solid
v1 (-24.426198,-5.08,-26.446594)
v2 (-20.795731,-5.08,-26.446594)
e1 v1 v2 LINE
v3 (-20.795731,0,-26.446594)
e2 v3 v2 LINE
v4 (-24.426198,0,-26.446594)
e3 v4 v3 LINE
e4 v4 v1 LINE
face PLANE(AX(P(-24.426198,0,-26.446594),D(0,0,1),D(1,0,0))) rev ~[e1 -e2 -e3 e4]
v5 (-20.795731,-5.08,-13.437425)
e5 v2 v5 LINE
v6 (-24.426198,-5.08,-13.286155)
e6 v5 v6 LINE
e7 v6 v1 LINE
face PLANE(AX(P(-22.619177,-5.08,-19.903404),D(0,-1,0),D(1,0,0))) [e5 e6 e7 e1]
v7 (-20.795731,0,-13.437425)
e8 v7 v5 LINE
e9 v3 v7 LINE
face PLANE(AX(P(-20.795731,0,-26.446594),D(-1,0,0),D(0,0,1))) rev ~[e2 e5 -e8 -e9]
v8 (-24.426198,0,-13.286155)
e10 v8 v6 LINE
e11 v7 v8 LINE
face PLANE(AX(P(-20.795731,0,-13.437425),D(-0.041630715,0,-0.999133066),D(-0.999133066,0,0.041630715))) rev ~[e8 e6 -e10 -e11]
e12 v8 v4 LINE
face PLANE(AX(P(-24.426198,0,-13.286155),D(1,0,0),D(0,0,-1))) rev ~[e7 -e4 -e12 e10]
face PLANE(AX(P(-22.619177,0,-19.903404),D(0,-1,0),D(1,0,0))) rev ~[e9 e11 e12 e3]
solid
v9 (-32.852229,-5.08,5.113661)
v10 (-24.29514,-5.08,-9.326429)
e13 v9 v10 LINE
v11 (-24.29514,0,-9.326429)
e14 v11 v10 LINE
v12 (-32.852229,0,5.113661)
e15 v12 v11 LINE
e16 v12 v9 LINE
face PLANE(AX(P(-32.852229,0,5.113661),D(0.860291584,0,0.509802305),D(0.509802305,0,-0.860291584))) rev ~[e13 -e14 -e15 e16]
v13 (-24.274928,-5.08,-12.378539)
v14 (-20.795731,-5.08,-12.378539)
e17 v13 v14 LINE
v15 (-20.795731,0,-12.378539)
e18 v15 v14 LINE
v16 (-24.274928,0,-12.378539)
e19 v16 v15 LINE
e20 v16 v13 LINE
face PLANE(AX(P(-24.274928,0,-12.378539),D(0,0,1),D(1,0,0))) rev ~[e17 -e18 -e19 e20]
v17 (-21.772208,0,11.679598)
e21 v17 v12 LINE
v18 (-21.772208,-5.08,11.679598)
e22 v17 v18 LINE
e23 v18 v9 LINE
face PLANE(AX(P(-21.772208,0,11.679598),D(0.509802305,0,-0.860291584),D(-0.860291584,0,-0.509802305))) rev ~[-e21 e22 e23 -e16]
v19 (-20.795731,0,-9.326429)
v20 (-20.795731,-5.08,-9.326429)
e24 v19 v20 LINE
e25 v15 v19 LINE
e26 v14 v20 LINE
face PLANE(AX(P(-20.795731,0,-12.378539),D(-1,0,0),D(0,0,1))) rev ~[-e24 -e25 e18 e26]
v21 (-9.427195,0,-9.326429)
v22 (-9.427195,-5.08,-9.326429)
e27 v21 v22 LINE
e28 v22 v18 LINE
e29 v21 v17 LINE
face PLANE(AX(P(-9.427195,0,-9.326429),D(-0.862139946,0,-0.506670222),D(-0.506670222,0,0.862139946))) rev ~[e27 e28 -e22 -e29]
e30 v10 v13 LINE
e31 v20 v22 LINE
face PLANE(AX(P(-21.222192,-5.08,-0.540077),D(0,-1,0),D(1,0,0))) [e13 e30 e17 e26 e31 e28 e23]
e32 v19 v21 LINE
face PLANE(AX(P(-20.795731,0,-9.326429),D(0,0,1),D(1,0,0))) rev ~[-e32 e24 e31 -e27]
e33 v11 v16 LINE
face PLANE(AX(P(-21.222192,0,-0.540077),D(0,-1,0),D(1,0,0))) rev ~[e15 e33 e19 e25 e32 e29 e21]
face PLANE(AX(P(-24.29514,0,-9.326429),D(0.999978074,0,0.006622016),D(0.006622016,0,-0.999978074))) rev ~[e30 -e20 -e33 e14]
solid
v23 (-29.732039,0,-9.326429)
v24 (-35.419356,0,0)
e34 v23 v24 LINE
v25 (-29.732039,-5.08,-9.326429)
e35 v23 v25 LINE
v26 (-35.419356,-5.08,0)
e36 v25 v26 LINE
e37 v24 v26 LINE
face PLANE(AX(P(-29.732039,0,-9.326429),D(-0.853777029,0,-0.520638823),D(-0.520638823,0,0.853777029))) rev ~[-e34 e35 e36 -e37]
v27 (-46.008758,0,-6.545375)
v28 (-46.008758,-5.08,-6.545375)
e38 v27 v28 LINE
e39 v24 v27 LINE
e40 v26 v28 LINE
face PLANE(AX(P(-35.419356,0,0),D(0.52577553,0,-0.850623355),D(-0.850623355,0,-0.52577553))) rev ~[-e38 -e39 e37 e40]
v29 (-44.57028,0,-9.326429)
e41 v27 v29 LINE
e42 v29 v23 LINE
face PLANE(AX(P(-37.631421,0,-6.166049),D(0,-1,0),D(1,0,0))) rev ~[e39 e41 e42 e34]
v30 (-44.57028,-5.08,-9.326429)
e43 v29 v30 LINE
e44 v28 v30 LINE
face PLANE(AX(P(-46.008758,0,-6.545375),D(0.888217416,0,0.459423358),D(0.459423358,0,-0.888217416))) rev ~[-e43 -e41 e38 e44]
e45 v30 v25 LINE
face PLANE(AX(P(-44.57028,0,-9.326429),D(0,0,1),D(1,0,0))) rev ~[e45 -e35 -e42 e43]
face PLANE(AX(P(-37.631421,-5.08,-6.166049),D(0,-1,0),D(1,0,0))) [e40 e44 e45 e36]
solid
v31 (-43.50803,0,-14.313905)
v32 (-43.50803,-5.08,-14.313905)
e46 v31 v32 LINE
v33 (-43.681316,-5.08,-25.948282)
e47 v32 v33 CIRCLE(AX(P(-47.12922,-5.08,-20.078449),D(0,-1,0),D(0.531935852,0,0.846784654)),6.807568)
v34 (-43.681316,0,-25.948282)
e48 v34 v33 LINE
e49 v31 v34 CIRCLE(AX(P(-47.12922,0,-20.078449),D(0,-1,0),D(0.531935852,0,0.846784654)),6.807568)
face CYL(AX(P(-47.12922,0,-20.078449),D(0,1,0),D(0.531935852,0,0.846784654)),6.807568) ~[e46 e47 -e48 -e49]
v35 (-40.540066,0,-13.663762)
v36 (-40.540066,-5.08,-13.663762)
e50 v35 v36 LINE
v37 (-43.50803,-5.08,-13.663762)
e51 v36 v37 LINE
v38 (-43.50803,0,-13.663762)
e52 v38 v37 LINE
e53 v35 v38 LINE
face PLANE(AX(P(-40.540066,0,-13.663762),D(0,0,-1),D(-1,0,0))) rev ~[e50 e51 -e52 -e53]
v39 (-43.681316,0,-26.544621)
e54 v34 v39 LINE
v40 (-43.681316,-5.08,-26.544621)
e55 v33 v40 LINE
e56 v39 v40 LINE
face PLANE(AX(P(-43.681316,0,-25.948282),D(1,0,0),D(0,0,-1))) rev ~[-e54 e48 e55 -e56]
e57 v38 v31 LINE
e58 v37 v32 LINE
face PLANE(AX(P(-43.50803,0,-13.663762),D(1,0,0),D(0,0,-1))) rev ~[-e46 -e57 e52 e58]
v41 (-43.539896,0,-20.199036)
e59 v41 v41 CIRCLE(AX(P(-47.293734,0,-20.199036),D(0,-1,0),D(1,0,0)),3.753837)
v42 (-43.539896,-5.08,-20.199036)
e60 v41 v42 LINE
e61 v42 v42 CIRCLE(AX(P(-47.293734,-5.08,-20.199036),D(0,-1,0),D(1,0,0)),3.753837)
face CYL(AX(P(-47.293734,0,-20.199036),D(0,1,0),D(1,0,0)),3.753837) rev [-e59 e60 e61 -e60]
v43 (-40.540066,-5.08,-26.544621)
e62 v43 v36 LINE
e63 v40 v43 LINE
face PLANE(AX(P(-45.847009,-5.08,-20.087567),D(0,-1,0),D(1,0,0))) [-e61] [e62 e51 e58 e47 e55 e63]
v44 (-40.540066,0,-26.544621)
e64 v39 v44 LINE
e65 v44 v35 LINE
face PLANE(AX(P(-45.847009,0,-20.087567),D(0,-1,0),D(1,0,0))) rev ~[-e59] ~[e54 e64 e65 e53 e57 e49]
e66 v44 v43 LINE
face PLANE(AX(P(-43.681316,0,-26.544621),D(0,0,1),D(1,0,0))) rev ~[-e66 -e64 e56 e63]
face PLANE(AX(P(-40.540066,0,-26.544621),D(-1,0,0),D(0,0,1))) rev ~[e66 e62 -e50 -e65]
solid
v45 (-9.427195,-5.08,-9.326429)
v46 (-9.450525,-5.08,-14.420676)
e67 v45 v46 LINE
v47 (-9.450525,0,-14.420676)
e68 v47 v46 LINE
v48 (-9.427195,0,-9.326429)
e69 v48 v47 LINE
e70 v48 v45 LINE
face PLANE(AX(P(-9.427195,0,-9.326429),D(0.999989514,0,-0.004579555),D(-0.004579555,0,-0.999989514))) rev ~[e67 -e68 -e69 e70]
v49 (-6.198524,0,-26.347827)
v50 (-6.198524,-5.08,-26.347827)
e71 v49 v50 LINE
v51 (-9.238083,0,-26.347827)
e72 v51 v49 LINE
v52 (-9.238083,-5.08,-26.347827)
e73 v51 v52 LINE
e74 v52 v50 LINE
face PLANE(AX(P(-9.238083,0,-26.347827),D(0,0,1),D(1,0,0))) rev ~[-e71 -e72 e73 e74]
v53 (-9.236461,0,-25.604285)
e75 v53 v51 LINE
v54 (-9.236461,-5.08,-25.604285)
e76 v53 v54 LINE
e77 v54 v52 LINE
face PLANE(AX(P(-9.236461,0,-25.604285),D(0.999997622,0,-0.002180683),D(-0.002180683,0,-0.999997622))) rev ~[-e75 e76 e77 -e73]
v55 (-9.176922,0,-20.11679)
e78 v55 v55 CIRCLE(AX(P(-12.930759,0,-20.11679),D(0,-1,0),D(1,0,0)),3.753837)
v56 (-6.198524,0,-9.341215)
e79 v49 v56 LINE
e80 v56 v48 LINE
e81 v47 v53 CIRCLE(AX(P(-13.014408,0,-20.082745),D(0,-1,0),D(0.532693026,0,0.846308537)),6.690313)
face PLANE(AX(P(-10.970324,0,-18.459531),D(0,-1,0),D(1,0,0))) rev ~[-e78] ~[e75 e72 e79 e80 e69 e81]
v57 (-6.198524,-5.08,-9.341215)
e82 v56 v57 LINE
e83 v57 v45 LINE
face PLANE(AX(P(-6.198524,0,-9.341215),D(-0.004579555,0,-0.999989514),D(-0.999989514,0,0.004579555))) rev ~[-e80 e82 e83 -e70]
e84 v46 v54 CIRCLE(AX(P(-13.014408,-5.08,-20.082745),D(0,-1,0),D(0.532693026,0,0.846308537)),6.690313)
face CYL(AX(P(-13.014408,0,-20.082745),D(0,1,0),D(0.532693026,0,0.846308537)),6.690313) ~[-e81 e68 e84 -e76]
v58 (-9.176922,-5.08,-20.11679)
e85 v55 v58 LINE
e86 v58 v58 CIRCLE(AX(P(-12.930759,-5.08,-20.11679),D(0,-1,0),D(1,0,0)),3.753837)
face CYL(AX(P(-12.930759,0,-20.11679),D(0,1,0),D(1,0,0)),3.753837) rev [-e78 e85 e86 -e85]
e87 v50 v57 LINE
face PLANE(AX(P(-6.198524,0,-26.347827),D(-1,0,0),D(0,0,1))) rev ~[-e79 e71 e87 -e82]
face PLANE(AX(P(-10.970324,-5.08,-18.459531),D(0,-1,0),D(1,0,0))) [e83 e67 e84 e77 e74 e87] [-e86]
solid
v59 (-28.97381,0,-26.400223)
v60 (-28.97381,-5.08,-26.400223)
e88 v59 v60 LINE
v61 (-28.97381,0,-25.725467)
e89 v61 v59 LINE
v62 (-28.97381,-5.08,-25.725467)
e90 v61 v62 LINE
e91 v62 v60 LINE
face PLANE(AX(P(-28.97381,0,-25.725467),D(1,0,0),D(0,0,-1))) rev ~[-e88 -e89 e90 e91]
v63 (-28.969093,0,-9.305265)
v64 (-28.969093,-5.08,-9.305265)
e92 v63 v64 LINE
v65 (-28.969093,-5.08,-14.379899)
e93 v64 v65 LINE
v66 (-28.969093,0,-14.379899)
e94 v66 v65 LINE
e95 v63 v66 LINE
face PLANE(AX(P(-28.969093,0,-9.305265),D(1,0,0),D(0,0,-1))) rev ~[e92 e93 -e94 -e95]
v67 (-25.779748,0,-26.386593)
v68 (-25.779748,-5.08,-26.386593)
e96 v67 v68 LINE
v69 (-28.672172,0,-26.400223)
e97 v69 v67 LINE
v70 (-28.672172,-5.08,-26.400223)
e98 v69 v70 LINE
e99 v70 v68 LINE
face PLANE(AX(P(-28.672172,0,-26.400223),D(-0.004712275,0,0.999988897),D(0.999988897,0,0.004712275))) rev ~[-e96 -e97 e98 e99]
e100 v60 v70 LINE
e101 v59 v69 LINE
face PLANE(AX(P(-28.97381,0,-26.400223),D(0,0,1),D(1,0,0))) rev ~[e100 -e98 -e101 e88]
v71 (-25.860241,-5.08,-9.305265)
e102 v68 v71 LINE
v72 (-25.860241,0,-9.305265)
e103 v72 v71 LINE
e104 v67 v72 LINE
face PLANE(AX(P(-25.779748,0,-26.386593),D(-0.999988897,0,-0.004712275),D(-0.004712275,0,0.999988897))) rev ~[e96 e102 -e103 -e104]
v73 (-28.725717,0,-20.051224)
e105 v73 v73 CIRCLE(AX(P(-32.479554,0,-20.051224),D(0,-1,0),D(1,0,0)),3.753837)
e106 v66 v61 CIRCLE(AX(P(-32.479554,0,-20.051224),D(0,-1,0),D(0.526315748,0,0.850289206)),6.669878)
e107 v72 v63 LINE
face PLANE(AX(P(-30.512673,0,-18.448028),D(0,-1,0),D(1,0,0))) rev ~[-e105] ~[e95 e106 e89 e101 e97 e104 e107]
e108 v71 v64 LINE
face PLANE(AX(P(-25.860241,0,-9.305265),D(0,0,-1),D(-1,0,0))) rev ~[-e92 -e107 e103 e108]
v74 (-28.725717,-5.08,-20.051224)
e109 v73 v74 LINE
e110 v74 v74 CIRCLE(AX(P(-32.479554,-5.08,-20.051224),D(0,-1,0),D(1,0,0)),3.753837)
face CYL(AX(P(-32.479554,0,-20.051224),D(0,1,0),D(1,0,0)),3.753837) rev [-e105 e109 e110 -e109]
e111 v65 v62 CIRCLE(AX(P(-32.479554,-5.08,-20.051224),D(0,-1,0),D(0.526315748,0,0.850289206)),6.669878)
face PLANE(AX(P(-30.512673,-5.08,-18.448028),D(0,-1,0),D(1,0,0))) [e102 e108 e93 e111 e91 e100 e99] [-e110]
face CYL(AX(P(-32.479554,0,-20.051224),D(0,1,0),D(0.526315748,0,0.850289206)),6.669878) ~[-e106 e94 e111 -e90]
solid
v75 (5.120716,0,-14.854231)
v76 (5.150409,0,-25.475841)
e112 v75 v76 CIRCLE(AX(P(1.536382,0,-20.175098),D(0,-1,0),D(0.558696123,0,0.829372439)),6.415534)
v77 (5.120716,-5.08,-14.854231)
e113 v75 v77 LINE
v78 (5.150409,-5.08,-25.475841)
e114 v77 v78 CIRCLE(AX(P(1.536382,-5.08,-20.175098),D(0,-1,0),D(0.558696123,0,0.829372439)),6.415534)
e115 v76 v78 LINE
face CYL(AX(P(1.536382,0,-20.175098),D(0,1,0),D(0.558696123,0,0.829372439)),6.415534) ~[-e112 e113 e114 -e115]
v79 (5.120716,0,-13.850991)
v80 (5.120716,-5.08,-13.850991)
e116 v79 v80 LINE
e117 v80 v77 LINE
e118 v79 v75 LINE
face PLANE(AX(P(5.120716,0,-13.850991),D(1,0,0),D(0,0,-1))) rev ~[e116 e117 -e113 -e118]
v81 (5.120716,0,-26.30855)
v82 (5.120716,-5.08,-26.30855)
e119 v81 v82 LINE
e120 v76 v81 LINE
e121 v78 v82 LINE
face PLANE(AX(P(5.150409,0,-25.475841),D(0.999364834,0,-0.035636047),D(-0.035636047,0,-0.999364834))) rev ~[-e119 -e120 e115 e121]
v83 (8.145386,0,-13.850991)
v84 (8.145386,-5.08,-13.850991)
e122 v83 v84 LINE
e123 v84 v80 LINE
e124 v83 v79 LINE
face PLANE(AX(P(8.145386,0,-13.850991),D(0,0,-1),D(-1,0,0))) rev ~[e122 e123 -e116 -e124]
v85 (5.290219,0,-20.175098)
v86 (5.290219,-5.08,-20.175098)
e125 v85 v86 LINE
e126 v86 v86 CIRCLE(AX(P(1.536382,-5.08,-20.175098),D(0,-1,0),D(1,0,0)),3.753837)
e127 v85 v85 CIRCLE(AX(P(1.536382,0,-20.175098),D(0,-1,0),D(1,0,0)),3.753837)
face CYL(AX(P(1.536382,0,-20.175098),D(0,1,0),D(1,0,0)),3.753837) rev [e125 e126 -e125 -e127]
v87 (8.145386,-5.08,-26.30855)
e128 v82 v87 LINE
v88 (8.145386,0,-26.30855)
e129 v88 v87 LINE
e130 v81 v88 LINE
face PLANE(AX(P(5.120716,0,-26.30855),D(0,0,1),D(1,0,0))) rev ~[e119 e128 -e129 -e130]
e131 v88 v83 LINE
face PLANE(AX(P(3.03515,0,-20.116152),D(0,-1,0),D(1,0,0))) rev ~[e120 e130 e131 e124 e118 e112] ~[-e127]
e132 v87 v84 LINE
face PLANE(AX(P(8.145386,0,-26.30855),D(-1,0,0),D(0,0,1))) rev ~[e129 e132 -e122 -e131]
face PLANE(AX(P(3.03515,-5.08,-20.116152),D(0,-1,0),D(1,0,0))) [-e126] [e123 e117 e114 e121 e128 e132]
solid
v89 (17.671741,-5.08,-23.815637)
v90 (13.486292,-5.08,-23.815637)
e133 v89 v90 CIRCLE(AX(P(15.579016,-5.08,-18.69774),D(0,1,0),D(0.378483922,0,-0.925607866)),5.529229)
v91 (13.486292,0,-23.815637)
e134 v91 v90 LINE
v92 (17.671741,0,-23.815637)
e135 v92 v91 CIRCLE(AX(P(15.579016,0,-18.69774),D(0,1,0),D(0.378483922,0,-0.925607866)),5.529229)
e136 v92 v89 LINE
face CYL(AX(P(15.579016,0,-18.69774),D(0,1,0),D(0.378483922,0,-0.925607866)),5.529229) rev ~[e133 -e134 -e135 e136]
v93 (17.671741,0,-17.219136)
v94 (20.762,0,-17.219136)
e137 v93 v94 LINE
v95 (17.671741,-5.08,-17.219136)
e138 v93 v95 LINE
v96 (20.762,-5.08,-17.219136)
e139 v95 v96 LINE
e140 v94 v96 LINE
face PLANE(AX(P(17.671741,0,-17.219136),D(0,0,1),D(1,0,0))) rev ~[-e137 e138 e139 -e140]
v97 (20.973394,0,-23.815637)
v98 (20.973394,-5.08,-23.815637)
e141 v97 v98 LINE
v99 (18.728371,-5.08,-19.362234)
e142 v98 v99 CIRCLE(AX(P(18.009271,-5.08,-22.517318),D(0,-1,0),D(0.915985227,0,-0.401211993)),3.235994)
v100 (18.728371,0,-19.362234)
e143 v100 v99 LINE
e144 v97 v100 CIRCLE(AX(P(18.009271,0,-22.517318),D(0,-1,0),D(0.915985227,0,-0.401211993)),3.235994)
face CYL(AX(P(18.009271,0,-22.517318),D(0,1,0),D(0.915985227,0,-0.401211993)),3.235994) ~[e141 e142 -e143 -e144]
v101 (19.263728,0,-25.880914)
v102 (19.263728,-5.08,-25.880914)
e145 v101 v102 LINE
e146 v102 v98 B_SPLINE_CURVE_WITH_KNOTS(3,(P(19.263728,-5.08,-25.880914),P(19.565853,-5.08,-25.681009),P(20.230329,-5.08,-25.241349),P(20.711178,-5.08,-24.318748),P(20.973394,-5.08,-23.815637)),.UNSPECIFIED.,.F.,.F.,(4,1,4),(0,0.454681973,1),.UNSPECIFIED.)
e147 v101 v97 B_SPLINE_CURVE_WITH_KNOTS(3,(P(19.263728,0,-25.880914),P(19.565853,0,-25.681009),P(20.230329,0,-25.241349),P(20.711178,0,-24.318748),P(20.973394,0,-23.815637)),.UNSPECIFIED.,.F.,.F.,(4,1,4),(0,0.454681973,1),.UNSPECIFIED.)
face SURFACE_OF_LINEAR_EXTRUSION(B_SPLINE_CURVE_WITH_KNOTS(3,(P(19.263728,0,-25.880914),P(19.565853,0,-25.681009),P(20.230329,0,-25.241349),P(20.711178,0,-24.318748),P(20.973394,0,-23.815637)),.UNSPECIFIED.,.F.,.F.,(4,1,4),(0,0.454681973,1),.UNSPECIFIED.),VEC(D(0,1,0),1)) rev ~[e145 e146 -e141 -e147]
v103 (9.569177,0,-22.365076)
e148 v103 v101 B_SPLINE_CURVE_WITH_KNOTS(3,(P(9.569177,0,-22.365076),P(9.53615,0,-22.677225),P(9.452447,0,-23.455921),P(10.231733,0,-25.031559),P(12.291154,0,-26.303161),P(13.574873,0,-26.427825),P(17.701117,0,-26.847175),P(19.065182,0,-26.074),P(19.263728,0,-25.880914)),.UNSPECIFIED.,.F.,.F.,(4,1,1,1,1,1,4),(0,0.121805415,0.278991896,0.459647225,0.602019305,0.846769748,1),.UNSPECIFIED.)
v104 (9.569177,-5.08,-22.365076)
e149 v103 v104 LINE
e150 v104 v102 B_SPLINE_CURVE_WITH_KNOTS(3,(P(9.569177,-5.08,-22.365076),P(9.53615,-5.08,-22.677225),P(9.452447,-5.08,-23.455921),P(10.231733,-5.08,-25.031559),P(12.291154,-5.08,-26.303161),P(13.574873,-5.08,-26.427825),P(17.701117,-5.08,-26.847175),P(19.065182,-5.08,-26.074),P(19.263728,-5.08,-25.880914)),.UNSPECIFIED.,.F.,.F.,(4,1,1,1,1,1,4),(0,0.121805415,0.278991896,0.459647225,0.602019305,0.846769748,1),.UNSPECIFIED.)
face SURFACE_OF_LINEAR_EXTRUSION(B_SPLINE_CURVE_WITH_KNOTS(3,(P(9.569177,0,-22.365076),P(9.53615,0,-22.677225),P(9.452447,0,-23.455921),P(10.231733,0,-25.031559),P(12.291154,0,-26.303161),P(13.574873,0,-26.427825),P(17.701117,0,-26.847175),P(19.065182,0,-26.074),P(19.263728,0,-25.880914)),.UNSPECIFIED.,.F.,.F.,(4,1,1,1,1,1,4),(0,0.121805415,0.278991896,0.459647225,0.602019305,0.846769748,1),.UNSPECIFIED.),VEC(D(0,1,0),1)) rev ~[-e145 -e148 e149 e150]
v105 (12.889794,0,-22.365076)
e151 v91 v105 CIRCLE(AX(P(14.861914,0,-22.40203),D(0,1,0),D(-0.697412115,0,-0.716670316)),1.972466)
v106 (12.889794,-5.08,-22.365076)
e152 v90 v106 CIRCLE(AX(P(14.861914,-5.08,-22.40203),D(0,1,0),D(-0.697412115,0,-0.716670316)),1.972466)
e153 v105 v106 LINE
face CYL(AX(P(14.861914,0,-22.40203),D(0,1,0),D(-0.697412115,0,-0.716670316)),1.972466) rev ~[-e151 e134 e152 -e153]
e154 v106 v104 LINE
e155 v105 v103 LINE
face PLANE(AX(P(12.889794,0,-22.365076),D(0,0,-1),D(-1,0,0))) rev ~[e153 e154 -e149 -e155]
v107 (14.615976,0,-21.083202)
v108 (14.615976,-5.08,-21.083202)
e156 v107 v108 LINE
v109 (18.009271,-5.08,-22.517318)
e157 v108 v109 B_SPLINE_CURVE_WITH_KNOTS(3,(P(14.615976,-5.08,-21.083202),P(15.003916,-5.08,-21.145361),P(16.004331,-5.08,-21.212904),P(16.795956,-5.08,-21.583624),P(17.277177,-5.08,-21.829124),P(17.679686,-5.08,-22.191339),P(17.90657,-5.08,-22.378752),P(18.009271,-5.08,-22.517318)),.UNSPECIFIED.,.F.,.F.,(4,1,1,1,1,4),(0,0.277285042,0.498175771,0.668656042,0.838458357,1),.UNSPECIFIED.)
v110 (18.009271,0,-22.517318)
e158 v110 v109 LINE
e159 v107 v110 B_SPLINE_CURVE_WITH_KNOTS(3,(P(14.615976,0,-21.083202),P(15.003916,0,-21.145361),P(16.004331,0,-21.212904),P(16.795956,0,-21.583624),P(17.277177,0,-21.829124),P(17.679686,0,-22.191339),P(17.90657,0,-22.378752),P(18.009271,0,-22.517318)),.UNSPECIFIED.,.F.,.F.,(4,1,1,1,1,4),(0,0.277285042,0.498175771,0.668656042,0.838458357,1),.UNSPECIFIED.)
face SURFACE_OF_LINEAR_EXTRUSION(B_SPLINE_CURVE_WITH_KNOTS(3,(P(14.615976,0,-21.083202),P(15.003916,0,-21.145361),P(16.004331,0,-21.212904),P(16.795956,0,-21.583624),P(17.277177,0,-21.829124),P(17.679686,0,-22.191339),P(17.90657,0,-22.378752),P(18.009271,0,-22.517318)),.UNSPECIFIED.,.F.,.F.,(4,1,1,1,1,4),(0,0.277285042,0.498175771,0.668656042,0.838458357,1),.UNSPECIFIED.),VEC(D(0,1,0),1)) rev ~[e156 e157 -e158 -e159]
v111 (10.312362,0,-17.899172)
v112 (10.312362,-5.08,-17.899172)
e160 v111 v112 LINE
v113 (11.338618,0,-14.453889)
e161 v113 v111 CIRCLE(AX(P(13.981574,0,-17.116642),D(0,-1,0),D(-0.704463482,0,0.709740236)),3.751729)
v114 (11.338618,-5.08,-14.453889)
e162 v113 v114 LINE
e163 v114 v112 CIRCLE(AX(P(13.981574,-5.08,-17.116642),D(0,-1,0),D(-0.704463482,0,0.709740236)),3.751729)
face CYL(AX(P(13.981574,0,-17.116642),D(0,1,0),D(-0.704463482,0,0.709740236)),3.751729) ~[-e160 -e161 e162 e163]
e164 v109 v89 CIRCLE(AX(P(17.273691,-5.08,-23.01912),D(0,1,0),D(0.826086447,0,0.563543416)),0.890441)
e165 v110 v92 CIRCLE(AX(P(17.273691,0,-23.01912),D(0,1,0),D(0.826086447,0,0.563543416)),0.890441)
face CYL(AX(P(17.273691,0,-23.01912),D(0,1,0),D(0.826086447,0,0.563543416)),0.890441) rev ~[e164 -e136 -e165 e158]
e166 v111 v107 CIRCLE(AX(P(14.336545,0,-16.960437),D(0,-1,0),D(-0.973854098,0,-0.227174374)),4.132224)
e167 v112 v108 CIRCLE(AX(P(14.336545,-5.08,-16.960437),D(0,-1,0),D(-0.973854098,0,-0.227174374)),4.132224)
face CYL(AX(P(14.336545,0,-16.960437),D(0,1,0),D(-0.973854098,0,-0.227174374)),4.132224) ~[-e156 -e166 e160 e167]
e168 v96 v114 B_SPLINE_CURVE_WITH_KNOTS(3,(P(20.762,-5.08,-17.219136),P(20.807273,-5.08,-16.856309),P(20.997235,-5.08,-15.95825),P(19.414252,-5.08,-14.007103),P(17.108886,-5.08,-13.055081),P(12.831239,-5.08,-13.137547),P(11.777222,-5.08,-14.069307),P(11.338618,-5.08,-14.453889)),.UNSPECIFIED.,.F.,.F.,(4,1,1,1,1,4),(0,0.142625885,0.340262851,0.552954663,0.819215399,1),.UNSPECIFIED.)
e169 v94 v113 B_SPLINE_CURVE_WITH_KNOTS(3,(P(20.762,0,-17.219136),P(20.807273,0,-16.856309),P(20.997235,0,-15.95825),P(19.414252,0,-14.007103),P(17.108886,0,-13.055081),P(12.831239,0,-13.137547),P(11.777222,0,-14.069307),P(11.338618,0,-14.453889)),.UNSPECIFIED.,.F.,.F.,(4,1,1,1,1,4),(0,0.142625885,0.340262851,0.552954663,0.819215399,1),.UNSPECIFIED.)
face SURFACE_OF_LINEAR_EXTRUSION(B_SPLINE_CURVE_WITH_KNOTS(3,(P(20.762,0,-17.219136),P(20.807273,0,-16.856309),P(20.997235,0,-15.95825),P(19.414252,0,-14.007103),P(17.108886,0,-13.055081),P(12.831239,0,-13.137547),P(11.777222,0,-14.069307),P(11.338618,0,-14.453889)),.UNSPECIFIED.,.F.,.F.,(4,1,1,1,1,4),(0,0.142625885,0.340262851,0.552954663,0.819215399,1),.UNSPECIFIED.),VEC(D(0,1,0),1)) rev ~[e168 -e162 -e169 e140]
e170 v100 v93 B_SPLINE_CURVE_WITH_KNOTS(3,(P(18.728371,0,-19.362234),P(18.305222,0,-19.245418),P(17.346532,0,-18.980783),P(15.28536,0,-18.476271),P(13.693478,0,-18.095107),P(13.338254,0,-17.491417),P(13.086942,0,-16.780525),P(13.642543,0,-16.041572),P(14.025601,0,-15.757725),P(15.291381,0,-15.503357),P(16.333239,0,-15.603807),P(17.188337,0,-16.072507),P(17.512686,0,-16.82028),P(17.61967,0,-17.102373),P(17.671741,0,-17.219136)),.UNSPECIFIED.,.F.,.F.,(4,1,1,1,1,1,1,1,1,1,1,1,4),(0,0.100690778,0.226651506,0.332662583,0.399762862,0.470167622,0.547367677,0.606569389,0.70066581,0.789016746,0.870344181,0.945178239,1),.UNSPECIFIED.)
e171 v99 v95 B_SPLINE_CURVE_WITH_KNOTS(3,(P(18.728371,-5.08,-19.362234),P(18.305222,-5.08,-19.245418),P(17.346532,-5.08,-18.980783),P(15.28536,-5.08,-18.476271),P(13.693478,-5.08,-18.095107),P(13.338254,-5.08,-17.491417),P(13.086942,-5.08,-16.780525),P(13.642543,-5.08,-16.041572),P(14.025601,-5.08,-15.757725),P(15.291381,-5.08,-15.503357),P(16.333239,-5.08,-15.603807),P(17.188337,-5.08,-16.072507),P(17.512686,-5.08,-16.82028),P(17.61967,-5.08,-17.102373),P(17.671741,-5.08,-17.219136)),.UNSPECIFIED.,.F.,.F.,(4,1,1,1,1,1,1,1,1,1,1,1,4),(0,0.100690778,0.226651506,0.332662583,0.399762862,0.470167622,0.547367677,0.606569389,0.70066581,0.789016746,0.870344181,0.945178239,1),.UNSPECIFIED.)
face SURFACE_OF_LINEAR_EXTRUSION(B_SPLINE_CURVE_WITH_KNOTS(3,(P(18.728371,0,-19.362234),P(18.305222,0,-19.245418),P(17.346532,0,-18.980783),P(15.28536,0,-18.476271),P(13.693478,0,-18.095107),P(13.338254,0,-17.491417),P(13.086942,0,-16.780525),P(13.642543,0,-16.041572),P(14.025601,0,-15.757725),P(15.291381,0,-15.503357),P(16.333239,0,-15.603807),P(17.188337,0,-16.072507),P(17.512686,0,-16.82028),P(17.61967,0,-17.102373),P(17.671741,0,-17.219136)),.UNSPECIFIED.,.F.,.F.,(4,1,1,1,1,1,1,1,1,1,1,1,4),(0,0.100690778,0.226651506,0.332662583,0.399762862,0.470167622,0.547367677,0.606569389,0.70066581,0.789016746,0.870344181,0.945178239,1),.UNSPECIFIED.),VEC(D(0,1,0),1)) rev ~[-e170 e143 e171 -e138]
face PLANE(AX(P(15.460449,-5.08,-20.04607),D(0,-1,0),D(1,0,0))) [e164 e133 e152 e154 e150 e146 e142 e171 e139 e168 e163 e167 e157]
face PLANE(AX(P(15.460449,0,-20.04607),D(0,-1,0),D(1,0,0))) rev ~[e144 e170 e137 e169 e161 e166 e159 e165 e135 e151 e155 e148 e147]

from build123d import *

# Parameters (mm, degrees)
F1_DEPTH = 5.08
F0_R     = 3.7538373981


with BuildPart() as f1:
    # F0 (on Front) → F1 (new body)
    with BuildSketch(Plane.XZ):
        Polygon((-35.4193560779, 0), (-46.0087582469, -6.5453746356), (-44.5702800546, -9.3264291063), (-29.7320385329, -9.3264291063), align=None)
    extrude(amount=F1_DEPTH)


with BuildPart() as f1b:
    # F0 (on Front) → F1, piece 2 (new body)
    with BuildSketch(Plane.XZ):
        Polygon((-20.7957308739, -13.4374247864), (-24.4261976331, -13.2861547172), (-24.4261976331, -26.4465939254), (-20.7957308739, -26.4465939254), align=None)
    extrude(amount=F1_DEPTH)


with BuildPart() as f1c:
    # F0 (on Front) → F1, piece 3 (new body)
    with BuildSketch(Plane.XZ):
        with BuildLine():
            add(Edge.make_bspline(
                [(20.7620002329, -17.2191361961), (20.8072727639, -16.8563093212), (20.9972345535, -15.9582499737), (19.4142520572, -14.007102602), (17.1088858085, -13.0550807236), (12.8312386114, -13.137547353), (11.777222385, -14.0693074001), (11.3386176527, -14.4538888708)],
                knots=[0, 0, 0, 0, 0.1426258855, 0.3402628508, 0.5529546626, 0.8192153992, 1, 1, 1, 1], degree=3))
            ThreePointArc((11.3386176527, -14.4538888708), (10.3859706919, -16.0456099138), (10.3123616427, -17.8991723806))
            ThreePointArc((10.3123616427, -17.8991723806), (11.8788420686, -20.2823297917), (14.6159762517, -21.083202213))
            add(Edge.make_bspline(
                [(14.6159762517, -21.083202213), (15.0039163067, -21.1453609503), (16.0043313157, -21.2129036743), (16.7959558011, -21.5836238263), (17.2771770943, -21.8291235959), (17.6796861205, -22.1913385939), (17.9065701329, -22.3787523433), (18.0092714727, -22.517317906)],
                knots=[0, 0, 0, 0, 0.2772850418, 0.4981757712, 0.6686560416, 0.8384583572, 1, 1, 1, 1], degree=3))
            ThreePointArc((18.0092714727, -22.517317906), (18.1354842373, -23.2431646305), (17.6717407787, -23.8156374544))
            ThreePointArc((17.6717407787, -23.8156374544), (15.5790164959, -24.2269686024), (13.4862922132, -23.8156374544))
            ThreePointArc((13.4862922132, -23.8156374544), (13.0376674048, -23.1521941948), (12.8897940501, -22.3650762568))
            Line((12.8897940501, -22.3650762568), (9.569176693, -22.3650762568))
            add(Edge.make_bspline(
                [(9.569176693, -22.3650762568), (9.5361497862, -22.6772252023), (9.4524468653, -23.4559209414), (10.231733471, -25.0315592148), (12.2911542795, -26.3031608631), (13.5748731983, -26.4278250015), (17.7011171683, -26.847175168), (19.0651818481, -26.0739997387), (19.2637275904, -25.8809141815)],
                knots=[0, 0, 0, 0, 0.1218054151, 0.2789918956, 0.4596472248, 0.6020193053, 0.8467697484, 1, 1, 1, 1], degree=3))
            add(Edge.make_bspline(
                [(19.2637275904, -25.8809141815), (19.5658528496, -25.681008759), (20.2303288514, -25.241348877), (20.711178218, -24.3187482231), (20.9733940461, -23.8156374544)],
                knots=[0, 0, 0, 0, 0.4546819726, 1, 1, 1, 1], degree=3))
            ThreePointArc((20.9733940461, -23.8156374544), (20.898861515, -21.0606348014), (18.7283706874, -19.362234294))
            add(Edge.make_bspline(
                [(18.7283706874, -19.362234294), (18.3052221446, -19.2454177359), (17.3465319172, -18.9807828356), (15.2853598147, -18.476270678), (13.6934778991, -18.0951068109), (13.3382544883, -17.4914174359), (13.0869415617, -16.7805254227), (13.6425426453, -16.0415724969), (14.0256014445, -15.7577248311), (15.2913806307, -15.5033570912), (16.3332392912, -15.6038072113), (17.1883368221, -16.0725065084), (17.5126857245, -16.8202796174), (17.6196698386, -17.1023734287), (17.6717407787, -17.2191361961)],
                knots=[0, 0, 0, 0, 0.1006907781, 0.2266515058, 0.3326625833, 0.3997628616, 0.4701676224, 0.5473676774, 0.6065693887, 0.7006658095, 0.7890167461, 0.8703441811, 0.9451782391, 1, 1, 1, 1], degree=3))
            Line((17.6717407787, -17.2191361961), (20.7620002329, -17.2191361961))
        make_face()
    extrude(amount=F1_DEPTH)


with BuildPart() as f1d:
    # F0 (on Front) → F1, piece 4 (new body)
    with BuildSketch(Plane.XZ):
        Polygon((-21.772207953, 11.6795980458), (-32.8522287309, 5.1136612892), (-24.2951400578, -9.3264291063), (-20.7957308739, -9.3264291063), (-9.4271954149, -9.3264291063), align=None)
        Polygon((-20.7957308739, -9.3264291063), (-24.2951400578, -9.3264291063), (-24.2749284953, -12.3785389587), (-20.7957308739, -12.3785389587), align=None)
    extrude(amount=F1_DEPTH)


with BuildPart() as f1e:
    # F0 (on Front) → F1, piece 5 (new body)
    with BuildSketch(Plane.XZ):
        with BuildLine():
            Line((-43.5080304742, -13.6637622491), (-43.5080304742, -14.3139054999))
            ThreePointArc((-43.5080304742, -14.3139054999), (-53.9360326233, -19.9770668695), (-43.6813160777, -25.9482823312))
            Line((-43.6813160777, -25.9482823312), (-43.6813160777, -26.5446212143))
            Line((-43.6813160777, -26.5446212143), (-40.5400656164, -26.5446212143))
            Line((-40.5400656164, -26.5446212143), (-40.5400656164, -13.6637622491))
            Line((-40.5400656164, -13.6637622491), (-43.5080304742, -13.6637622491))
        make_face()
        with Locations((-47.2937338054, -20.1990362257)):
            Circle(F0_R, mode=Mode.SUBTRACT)
    extrude(amount=F1_DEPTH)


with BuildPart() as f1f:
    # F0 (on Front) → F1, piece 6 (new body)
    with BuildSketch(Plane.XZ):
        with BuildLine():
            Line((-28.9690925023, -9.3052648008), (-28.9690925023, -14.3798987605))
            ThreePointArc((-28.9690925023, -14.3798987605), (-39.1494319925, -20.0484505957), (-28.9738103747, -25.7254671305))
            Line((-28.9738103747, -25.7254671305), (-28.9738103747, -26.4002234317))
            Line((-28.9738103747, -26.4002234317), (-28.6721715531, -26.4002234317))
            Line((-28.6721715531, -26.4002234317), (-25.7797478715, -26.3865933846))
            Line((-25.7797478715, -26.3865933846), (-25.860240683, -9.3052648008))
            Line((-25.860240683, -9.3052648008), (-28.9690925023, -9.3052648008))
        make_face()
        with Locations((-32.4795544147, -20.0512241572)):
            Circle(F0_R, mode=Mode.SUBTRACT)
    extrude(amount=F1_DEPTH)


with BuildPart() as f1g:
    # F0 (on Front) → F1, piece 7 (new body)
    with BuildSketch(Plane.XZ):
        with BuildLine():
            Line((-6.1985242487, -9.3412151397), (-9.4271954149, -9.3264291063))
            Line((-9.4271954149, -9.3264291063), (-9.4505250454, -14.4206760451))
            ThreePointArc((-9.4505250454, -14.4206760451), (-19.703495851, -20.2107797198), (-9.2364614829, -25.6042852998))
            Line((-9.2364614829, -25.6042852998), (-9.2380829155, -26.3478271663))
            Line((-9.2380829155, -26.3478271663), (-6.1985242487, -26.3478271663))
            Line((-6.1985242487, -26.3478271663), (-6.1985242487, -9.3412151397))
        make_face()
        with Locations((-12.9307592288, -20.1167901978)):
            Circle(F0_R, mode=Mode.SUBTRACT)
    extrude(amount=F1_DEPTH)


with BuildPart() as f1h:
    # F0 (on Front) → F1, piece 8 (new body)
    with BuildSketch(Plane.XZ):
        with BuildLine():
            Line((5.1207156486, -14.4008146599), (5.1207156486, -14.8542305873))
            ThreePointArc((5.1207156486, -14.8542305873), (-4.8791269628, -20.1930324208), (5.1504089497, -25.4758410156))
            Line((5.1504089497, -25.4758410156), (5.1207156486, -26.3085495681))
            Line((5.1207156486, -26.3085495681), (8.1453863531, -26.3085495681))
            Line((8.1453863531, -26.3085495681), (8.1453863531, -13.8509906828))
            Line((8.1453863531, -13.8509906828), (5.1207156486, -13.8509906828))
            Line((5.1207156486, -13.8509906828), (5.1207156486, -14.4008146599))
        make_face()
        with Locations((1.5363817802, -20.1750975102)):
            Circle(F0_R, mode=Mode.SUBTRACT)
    extrude(amount=F1_DEPTH)


solid = Compound([f1.part, f1b.part, f1c.part, f1d.part, f1e.part, f1f.part, f1g.part, f1h.part])
